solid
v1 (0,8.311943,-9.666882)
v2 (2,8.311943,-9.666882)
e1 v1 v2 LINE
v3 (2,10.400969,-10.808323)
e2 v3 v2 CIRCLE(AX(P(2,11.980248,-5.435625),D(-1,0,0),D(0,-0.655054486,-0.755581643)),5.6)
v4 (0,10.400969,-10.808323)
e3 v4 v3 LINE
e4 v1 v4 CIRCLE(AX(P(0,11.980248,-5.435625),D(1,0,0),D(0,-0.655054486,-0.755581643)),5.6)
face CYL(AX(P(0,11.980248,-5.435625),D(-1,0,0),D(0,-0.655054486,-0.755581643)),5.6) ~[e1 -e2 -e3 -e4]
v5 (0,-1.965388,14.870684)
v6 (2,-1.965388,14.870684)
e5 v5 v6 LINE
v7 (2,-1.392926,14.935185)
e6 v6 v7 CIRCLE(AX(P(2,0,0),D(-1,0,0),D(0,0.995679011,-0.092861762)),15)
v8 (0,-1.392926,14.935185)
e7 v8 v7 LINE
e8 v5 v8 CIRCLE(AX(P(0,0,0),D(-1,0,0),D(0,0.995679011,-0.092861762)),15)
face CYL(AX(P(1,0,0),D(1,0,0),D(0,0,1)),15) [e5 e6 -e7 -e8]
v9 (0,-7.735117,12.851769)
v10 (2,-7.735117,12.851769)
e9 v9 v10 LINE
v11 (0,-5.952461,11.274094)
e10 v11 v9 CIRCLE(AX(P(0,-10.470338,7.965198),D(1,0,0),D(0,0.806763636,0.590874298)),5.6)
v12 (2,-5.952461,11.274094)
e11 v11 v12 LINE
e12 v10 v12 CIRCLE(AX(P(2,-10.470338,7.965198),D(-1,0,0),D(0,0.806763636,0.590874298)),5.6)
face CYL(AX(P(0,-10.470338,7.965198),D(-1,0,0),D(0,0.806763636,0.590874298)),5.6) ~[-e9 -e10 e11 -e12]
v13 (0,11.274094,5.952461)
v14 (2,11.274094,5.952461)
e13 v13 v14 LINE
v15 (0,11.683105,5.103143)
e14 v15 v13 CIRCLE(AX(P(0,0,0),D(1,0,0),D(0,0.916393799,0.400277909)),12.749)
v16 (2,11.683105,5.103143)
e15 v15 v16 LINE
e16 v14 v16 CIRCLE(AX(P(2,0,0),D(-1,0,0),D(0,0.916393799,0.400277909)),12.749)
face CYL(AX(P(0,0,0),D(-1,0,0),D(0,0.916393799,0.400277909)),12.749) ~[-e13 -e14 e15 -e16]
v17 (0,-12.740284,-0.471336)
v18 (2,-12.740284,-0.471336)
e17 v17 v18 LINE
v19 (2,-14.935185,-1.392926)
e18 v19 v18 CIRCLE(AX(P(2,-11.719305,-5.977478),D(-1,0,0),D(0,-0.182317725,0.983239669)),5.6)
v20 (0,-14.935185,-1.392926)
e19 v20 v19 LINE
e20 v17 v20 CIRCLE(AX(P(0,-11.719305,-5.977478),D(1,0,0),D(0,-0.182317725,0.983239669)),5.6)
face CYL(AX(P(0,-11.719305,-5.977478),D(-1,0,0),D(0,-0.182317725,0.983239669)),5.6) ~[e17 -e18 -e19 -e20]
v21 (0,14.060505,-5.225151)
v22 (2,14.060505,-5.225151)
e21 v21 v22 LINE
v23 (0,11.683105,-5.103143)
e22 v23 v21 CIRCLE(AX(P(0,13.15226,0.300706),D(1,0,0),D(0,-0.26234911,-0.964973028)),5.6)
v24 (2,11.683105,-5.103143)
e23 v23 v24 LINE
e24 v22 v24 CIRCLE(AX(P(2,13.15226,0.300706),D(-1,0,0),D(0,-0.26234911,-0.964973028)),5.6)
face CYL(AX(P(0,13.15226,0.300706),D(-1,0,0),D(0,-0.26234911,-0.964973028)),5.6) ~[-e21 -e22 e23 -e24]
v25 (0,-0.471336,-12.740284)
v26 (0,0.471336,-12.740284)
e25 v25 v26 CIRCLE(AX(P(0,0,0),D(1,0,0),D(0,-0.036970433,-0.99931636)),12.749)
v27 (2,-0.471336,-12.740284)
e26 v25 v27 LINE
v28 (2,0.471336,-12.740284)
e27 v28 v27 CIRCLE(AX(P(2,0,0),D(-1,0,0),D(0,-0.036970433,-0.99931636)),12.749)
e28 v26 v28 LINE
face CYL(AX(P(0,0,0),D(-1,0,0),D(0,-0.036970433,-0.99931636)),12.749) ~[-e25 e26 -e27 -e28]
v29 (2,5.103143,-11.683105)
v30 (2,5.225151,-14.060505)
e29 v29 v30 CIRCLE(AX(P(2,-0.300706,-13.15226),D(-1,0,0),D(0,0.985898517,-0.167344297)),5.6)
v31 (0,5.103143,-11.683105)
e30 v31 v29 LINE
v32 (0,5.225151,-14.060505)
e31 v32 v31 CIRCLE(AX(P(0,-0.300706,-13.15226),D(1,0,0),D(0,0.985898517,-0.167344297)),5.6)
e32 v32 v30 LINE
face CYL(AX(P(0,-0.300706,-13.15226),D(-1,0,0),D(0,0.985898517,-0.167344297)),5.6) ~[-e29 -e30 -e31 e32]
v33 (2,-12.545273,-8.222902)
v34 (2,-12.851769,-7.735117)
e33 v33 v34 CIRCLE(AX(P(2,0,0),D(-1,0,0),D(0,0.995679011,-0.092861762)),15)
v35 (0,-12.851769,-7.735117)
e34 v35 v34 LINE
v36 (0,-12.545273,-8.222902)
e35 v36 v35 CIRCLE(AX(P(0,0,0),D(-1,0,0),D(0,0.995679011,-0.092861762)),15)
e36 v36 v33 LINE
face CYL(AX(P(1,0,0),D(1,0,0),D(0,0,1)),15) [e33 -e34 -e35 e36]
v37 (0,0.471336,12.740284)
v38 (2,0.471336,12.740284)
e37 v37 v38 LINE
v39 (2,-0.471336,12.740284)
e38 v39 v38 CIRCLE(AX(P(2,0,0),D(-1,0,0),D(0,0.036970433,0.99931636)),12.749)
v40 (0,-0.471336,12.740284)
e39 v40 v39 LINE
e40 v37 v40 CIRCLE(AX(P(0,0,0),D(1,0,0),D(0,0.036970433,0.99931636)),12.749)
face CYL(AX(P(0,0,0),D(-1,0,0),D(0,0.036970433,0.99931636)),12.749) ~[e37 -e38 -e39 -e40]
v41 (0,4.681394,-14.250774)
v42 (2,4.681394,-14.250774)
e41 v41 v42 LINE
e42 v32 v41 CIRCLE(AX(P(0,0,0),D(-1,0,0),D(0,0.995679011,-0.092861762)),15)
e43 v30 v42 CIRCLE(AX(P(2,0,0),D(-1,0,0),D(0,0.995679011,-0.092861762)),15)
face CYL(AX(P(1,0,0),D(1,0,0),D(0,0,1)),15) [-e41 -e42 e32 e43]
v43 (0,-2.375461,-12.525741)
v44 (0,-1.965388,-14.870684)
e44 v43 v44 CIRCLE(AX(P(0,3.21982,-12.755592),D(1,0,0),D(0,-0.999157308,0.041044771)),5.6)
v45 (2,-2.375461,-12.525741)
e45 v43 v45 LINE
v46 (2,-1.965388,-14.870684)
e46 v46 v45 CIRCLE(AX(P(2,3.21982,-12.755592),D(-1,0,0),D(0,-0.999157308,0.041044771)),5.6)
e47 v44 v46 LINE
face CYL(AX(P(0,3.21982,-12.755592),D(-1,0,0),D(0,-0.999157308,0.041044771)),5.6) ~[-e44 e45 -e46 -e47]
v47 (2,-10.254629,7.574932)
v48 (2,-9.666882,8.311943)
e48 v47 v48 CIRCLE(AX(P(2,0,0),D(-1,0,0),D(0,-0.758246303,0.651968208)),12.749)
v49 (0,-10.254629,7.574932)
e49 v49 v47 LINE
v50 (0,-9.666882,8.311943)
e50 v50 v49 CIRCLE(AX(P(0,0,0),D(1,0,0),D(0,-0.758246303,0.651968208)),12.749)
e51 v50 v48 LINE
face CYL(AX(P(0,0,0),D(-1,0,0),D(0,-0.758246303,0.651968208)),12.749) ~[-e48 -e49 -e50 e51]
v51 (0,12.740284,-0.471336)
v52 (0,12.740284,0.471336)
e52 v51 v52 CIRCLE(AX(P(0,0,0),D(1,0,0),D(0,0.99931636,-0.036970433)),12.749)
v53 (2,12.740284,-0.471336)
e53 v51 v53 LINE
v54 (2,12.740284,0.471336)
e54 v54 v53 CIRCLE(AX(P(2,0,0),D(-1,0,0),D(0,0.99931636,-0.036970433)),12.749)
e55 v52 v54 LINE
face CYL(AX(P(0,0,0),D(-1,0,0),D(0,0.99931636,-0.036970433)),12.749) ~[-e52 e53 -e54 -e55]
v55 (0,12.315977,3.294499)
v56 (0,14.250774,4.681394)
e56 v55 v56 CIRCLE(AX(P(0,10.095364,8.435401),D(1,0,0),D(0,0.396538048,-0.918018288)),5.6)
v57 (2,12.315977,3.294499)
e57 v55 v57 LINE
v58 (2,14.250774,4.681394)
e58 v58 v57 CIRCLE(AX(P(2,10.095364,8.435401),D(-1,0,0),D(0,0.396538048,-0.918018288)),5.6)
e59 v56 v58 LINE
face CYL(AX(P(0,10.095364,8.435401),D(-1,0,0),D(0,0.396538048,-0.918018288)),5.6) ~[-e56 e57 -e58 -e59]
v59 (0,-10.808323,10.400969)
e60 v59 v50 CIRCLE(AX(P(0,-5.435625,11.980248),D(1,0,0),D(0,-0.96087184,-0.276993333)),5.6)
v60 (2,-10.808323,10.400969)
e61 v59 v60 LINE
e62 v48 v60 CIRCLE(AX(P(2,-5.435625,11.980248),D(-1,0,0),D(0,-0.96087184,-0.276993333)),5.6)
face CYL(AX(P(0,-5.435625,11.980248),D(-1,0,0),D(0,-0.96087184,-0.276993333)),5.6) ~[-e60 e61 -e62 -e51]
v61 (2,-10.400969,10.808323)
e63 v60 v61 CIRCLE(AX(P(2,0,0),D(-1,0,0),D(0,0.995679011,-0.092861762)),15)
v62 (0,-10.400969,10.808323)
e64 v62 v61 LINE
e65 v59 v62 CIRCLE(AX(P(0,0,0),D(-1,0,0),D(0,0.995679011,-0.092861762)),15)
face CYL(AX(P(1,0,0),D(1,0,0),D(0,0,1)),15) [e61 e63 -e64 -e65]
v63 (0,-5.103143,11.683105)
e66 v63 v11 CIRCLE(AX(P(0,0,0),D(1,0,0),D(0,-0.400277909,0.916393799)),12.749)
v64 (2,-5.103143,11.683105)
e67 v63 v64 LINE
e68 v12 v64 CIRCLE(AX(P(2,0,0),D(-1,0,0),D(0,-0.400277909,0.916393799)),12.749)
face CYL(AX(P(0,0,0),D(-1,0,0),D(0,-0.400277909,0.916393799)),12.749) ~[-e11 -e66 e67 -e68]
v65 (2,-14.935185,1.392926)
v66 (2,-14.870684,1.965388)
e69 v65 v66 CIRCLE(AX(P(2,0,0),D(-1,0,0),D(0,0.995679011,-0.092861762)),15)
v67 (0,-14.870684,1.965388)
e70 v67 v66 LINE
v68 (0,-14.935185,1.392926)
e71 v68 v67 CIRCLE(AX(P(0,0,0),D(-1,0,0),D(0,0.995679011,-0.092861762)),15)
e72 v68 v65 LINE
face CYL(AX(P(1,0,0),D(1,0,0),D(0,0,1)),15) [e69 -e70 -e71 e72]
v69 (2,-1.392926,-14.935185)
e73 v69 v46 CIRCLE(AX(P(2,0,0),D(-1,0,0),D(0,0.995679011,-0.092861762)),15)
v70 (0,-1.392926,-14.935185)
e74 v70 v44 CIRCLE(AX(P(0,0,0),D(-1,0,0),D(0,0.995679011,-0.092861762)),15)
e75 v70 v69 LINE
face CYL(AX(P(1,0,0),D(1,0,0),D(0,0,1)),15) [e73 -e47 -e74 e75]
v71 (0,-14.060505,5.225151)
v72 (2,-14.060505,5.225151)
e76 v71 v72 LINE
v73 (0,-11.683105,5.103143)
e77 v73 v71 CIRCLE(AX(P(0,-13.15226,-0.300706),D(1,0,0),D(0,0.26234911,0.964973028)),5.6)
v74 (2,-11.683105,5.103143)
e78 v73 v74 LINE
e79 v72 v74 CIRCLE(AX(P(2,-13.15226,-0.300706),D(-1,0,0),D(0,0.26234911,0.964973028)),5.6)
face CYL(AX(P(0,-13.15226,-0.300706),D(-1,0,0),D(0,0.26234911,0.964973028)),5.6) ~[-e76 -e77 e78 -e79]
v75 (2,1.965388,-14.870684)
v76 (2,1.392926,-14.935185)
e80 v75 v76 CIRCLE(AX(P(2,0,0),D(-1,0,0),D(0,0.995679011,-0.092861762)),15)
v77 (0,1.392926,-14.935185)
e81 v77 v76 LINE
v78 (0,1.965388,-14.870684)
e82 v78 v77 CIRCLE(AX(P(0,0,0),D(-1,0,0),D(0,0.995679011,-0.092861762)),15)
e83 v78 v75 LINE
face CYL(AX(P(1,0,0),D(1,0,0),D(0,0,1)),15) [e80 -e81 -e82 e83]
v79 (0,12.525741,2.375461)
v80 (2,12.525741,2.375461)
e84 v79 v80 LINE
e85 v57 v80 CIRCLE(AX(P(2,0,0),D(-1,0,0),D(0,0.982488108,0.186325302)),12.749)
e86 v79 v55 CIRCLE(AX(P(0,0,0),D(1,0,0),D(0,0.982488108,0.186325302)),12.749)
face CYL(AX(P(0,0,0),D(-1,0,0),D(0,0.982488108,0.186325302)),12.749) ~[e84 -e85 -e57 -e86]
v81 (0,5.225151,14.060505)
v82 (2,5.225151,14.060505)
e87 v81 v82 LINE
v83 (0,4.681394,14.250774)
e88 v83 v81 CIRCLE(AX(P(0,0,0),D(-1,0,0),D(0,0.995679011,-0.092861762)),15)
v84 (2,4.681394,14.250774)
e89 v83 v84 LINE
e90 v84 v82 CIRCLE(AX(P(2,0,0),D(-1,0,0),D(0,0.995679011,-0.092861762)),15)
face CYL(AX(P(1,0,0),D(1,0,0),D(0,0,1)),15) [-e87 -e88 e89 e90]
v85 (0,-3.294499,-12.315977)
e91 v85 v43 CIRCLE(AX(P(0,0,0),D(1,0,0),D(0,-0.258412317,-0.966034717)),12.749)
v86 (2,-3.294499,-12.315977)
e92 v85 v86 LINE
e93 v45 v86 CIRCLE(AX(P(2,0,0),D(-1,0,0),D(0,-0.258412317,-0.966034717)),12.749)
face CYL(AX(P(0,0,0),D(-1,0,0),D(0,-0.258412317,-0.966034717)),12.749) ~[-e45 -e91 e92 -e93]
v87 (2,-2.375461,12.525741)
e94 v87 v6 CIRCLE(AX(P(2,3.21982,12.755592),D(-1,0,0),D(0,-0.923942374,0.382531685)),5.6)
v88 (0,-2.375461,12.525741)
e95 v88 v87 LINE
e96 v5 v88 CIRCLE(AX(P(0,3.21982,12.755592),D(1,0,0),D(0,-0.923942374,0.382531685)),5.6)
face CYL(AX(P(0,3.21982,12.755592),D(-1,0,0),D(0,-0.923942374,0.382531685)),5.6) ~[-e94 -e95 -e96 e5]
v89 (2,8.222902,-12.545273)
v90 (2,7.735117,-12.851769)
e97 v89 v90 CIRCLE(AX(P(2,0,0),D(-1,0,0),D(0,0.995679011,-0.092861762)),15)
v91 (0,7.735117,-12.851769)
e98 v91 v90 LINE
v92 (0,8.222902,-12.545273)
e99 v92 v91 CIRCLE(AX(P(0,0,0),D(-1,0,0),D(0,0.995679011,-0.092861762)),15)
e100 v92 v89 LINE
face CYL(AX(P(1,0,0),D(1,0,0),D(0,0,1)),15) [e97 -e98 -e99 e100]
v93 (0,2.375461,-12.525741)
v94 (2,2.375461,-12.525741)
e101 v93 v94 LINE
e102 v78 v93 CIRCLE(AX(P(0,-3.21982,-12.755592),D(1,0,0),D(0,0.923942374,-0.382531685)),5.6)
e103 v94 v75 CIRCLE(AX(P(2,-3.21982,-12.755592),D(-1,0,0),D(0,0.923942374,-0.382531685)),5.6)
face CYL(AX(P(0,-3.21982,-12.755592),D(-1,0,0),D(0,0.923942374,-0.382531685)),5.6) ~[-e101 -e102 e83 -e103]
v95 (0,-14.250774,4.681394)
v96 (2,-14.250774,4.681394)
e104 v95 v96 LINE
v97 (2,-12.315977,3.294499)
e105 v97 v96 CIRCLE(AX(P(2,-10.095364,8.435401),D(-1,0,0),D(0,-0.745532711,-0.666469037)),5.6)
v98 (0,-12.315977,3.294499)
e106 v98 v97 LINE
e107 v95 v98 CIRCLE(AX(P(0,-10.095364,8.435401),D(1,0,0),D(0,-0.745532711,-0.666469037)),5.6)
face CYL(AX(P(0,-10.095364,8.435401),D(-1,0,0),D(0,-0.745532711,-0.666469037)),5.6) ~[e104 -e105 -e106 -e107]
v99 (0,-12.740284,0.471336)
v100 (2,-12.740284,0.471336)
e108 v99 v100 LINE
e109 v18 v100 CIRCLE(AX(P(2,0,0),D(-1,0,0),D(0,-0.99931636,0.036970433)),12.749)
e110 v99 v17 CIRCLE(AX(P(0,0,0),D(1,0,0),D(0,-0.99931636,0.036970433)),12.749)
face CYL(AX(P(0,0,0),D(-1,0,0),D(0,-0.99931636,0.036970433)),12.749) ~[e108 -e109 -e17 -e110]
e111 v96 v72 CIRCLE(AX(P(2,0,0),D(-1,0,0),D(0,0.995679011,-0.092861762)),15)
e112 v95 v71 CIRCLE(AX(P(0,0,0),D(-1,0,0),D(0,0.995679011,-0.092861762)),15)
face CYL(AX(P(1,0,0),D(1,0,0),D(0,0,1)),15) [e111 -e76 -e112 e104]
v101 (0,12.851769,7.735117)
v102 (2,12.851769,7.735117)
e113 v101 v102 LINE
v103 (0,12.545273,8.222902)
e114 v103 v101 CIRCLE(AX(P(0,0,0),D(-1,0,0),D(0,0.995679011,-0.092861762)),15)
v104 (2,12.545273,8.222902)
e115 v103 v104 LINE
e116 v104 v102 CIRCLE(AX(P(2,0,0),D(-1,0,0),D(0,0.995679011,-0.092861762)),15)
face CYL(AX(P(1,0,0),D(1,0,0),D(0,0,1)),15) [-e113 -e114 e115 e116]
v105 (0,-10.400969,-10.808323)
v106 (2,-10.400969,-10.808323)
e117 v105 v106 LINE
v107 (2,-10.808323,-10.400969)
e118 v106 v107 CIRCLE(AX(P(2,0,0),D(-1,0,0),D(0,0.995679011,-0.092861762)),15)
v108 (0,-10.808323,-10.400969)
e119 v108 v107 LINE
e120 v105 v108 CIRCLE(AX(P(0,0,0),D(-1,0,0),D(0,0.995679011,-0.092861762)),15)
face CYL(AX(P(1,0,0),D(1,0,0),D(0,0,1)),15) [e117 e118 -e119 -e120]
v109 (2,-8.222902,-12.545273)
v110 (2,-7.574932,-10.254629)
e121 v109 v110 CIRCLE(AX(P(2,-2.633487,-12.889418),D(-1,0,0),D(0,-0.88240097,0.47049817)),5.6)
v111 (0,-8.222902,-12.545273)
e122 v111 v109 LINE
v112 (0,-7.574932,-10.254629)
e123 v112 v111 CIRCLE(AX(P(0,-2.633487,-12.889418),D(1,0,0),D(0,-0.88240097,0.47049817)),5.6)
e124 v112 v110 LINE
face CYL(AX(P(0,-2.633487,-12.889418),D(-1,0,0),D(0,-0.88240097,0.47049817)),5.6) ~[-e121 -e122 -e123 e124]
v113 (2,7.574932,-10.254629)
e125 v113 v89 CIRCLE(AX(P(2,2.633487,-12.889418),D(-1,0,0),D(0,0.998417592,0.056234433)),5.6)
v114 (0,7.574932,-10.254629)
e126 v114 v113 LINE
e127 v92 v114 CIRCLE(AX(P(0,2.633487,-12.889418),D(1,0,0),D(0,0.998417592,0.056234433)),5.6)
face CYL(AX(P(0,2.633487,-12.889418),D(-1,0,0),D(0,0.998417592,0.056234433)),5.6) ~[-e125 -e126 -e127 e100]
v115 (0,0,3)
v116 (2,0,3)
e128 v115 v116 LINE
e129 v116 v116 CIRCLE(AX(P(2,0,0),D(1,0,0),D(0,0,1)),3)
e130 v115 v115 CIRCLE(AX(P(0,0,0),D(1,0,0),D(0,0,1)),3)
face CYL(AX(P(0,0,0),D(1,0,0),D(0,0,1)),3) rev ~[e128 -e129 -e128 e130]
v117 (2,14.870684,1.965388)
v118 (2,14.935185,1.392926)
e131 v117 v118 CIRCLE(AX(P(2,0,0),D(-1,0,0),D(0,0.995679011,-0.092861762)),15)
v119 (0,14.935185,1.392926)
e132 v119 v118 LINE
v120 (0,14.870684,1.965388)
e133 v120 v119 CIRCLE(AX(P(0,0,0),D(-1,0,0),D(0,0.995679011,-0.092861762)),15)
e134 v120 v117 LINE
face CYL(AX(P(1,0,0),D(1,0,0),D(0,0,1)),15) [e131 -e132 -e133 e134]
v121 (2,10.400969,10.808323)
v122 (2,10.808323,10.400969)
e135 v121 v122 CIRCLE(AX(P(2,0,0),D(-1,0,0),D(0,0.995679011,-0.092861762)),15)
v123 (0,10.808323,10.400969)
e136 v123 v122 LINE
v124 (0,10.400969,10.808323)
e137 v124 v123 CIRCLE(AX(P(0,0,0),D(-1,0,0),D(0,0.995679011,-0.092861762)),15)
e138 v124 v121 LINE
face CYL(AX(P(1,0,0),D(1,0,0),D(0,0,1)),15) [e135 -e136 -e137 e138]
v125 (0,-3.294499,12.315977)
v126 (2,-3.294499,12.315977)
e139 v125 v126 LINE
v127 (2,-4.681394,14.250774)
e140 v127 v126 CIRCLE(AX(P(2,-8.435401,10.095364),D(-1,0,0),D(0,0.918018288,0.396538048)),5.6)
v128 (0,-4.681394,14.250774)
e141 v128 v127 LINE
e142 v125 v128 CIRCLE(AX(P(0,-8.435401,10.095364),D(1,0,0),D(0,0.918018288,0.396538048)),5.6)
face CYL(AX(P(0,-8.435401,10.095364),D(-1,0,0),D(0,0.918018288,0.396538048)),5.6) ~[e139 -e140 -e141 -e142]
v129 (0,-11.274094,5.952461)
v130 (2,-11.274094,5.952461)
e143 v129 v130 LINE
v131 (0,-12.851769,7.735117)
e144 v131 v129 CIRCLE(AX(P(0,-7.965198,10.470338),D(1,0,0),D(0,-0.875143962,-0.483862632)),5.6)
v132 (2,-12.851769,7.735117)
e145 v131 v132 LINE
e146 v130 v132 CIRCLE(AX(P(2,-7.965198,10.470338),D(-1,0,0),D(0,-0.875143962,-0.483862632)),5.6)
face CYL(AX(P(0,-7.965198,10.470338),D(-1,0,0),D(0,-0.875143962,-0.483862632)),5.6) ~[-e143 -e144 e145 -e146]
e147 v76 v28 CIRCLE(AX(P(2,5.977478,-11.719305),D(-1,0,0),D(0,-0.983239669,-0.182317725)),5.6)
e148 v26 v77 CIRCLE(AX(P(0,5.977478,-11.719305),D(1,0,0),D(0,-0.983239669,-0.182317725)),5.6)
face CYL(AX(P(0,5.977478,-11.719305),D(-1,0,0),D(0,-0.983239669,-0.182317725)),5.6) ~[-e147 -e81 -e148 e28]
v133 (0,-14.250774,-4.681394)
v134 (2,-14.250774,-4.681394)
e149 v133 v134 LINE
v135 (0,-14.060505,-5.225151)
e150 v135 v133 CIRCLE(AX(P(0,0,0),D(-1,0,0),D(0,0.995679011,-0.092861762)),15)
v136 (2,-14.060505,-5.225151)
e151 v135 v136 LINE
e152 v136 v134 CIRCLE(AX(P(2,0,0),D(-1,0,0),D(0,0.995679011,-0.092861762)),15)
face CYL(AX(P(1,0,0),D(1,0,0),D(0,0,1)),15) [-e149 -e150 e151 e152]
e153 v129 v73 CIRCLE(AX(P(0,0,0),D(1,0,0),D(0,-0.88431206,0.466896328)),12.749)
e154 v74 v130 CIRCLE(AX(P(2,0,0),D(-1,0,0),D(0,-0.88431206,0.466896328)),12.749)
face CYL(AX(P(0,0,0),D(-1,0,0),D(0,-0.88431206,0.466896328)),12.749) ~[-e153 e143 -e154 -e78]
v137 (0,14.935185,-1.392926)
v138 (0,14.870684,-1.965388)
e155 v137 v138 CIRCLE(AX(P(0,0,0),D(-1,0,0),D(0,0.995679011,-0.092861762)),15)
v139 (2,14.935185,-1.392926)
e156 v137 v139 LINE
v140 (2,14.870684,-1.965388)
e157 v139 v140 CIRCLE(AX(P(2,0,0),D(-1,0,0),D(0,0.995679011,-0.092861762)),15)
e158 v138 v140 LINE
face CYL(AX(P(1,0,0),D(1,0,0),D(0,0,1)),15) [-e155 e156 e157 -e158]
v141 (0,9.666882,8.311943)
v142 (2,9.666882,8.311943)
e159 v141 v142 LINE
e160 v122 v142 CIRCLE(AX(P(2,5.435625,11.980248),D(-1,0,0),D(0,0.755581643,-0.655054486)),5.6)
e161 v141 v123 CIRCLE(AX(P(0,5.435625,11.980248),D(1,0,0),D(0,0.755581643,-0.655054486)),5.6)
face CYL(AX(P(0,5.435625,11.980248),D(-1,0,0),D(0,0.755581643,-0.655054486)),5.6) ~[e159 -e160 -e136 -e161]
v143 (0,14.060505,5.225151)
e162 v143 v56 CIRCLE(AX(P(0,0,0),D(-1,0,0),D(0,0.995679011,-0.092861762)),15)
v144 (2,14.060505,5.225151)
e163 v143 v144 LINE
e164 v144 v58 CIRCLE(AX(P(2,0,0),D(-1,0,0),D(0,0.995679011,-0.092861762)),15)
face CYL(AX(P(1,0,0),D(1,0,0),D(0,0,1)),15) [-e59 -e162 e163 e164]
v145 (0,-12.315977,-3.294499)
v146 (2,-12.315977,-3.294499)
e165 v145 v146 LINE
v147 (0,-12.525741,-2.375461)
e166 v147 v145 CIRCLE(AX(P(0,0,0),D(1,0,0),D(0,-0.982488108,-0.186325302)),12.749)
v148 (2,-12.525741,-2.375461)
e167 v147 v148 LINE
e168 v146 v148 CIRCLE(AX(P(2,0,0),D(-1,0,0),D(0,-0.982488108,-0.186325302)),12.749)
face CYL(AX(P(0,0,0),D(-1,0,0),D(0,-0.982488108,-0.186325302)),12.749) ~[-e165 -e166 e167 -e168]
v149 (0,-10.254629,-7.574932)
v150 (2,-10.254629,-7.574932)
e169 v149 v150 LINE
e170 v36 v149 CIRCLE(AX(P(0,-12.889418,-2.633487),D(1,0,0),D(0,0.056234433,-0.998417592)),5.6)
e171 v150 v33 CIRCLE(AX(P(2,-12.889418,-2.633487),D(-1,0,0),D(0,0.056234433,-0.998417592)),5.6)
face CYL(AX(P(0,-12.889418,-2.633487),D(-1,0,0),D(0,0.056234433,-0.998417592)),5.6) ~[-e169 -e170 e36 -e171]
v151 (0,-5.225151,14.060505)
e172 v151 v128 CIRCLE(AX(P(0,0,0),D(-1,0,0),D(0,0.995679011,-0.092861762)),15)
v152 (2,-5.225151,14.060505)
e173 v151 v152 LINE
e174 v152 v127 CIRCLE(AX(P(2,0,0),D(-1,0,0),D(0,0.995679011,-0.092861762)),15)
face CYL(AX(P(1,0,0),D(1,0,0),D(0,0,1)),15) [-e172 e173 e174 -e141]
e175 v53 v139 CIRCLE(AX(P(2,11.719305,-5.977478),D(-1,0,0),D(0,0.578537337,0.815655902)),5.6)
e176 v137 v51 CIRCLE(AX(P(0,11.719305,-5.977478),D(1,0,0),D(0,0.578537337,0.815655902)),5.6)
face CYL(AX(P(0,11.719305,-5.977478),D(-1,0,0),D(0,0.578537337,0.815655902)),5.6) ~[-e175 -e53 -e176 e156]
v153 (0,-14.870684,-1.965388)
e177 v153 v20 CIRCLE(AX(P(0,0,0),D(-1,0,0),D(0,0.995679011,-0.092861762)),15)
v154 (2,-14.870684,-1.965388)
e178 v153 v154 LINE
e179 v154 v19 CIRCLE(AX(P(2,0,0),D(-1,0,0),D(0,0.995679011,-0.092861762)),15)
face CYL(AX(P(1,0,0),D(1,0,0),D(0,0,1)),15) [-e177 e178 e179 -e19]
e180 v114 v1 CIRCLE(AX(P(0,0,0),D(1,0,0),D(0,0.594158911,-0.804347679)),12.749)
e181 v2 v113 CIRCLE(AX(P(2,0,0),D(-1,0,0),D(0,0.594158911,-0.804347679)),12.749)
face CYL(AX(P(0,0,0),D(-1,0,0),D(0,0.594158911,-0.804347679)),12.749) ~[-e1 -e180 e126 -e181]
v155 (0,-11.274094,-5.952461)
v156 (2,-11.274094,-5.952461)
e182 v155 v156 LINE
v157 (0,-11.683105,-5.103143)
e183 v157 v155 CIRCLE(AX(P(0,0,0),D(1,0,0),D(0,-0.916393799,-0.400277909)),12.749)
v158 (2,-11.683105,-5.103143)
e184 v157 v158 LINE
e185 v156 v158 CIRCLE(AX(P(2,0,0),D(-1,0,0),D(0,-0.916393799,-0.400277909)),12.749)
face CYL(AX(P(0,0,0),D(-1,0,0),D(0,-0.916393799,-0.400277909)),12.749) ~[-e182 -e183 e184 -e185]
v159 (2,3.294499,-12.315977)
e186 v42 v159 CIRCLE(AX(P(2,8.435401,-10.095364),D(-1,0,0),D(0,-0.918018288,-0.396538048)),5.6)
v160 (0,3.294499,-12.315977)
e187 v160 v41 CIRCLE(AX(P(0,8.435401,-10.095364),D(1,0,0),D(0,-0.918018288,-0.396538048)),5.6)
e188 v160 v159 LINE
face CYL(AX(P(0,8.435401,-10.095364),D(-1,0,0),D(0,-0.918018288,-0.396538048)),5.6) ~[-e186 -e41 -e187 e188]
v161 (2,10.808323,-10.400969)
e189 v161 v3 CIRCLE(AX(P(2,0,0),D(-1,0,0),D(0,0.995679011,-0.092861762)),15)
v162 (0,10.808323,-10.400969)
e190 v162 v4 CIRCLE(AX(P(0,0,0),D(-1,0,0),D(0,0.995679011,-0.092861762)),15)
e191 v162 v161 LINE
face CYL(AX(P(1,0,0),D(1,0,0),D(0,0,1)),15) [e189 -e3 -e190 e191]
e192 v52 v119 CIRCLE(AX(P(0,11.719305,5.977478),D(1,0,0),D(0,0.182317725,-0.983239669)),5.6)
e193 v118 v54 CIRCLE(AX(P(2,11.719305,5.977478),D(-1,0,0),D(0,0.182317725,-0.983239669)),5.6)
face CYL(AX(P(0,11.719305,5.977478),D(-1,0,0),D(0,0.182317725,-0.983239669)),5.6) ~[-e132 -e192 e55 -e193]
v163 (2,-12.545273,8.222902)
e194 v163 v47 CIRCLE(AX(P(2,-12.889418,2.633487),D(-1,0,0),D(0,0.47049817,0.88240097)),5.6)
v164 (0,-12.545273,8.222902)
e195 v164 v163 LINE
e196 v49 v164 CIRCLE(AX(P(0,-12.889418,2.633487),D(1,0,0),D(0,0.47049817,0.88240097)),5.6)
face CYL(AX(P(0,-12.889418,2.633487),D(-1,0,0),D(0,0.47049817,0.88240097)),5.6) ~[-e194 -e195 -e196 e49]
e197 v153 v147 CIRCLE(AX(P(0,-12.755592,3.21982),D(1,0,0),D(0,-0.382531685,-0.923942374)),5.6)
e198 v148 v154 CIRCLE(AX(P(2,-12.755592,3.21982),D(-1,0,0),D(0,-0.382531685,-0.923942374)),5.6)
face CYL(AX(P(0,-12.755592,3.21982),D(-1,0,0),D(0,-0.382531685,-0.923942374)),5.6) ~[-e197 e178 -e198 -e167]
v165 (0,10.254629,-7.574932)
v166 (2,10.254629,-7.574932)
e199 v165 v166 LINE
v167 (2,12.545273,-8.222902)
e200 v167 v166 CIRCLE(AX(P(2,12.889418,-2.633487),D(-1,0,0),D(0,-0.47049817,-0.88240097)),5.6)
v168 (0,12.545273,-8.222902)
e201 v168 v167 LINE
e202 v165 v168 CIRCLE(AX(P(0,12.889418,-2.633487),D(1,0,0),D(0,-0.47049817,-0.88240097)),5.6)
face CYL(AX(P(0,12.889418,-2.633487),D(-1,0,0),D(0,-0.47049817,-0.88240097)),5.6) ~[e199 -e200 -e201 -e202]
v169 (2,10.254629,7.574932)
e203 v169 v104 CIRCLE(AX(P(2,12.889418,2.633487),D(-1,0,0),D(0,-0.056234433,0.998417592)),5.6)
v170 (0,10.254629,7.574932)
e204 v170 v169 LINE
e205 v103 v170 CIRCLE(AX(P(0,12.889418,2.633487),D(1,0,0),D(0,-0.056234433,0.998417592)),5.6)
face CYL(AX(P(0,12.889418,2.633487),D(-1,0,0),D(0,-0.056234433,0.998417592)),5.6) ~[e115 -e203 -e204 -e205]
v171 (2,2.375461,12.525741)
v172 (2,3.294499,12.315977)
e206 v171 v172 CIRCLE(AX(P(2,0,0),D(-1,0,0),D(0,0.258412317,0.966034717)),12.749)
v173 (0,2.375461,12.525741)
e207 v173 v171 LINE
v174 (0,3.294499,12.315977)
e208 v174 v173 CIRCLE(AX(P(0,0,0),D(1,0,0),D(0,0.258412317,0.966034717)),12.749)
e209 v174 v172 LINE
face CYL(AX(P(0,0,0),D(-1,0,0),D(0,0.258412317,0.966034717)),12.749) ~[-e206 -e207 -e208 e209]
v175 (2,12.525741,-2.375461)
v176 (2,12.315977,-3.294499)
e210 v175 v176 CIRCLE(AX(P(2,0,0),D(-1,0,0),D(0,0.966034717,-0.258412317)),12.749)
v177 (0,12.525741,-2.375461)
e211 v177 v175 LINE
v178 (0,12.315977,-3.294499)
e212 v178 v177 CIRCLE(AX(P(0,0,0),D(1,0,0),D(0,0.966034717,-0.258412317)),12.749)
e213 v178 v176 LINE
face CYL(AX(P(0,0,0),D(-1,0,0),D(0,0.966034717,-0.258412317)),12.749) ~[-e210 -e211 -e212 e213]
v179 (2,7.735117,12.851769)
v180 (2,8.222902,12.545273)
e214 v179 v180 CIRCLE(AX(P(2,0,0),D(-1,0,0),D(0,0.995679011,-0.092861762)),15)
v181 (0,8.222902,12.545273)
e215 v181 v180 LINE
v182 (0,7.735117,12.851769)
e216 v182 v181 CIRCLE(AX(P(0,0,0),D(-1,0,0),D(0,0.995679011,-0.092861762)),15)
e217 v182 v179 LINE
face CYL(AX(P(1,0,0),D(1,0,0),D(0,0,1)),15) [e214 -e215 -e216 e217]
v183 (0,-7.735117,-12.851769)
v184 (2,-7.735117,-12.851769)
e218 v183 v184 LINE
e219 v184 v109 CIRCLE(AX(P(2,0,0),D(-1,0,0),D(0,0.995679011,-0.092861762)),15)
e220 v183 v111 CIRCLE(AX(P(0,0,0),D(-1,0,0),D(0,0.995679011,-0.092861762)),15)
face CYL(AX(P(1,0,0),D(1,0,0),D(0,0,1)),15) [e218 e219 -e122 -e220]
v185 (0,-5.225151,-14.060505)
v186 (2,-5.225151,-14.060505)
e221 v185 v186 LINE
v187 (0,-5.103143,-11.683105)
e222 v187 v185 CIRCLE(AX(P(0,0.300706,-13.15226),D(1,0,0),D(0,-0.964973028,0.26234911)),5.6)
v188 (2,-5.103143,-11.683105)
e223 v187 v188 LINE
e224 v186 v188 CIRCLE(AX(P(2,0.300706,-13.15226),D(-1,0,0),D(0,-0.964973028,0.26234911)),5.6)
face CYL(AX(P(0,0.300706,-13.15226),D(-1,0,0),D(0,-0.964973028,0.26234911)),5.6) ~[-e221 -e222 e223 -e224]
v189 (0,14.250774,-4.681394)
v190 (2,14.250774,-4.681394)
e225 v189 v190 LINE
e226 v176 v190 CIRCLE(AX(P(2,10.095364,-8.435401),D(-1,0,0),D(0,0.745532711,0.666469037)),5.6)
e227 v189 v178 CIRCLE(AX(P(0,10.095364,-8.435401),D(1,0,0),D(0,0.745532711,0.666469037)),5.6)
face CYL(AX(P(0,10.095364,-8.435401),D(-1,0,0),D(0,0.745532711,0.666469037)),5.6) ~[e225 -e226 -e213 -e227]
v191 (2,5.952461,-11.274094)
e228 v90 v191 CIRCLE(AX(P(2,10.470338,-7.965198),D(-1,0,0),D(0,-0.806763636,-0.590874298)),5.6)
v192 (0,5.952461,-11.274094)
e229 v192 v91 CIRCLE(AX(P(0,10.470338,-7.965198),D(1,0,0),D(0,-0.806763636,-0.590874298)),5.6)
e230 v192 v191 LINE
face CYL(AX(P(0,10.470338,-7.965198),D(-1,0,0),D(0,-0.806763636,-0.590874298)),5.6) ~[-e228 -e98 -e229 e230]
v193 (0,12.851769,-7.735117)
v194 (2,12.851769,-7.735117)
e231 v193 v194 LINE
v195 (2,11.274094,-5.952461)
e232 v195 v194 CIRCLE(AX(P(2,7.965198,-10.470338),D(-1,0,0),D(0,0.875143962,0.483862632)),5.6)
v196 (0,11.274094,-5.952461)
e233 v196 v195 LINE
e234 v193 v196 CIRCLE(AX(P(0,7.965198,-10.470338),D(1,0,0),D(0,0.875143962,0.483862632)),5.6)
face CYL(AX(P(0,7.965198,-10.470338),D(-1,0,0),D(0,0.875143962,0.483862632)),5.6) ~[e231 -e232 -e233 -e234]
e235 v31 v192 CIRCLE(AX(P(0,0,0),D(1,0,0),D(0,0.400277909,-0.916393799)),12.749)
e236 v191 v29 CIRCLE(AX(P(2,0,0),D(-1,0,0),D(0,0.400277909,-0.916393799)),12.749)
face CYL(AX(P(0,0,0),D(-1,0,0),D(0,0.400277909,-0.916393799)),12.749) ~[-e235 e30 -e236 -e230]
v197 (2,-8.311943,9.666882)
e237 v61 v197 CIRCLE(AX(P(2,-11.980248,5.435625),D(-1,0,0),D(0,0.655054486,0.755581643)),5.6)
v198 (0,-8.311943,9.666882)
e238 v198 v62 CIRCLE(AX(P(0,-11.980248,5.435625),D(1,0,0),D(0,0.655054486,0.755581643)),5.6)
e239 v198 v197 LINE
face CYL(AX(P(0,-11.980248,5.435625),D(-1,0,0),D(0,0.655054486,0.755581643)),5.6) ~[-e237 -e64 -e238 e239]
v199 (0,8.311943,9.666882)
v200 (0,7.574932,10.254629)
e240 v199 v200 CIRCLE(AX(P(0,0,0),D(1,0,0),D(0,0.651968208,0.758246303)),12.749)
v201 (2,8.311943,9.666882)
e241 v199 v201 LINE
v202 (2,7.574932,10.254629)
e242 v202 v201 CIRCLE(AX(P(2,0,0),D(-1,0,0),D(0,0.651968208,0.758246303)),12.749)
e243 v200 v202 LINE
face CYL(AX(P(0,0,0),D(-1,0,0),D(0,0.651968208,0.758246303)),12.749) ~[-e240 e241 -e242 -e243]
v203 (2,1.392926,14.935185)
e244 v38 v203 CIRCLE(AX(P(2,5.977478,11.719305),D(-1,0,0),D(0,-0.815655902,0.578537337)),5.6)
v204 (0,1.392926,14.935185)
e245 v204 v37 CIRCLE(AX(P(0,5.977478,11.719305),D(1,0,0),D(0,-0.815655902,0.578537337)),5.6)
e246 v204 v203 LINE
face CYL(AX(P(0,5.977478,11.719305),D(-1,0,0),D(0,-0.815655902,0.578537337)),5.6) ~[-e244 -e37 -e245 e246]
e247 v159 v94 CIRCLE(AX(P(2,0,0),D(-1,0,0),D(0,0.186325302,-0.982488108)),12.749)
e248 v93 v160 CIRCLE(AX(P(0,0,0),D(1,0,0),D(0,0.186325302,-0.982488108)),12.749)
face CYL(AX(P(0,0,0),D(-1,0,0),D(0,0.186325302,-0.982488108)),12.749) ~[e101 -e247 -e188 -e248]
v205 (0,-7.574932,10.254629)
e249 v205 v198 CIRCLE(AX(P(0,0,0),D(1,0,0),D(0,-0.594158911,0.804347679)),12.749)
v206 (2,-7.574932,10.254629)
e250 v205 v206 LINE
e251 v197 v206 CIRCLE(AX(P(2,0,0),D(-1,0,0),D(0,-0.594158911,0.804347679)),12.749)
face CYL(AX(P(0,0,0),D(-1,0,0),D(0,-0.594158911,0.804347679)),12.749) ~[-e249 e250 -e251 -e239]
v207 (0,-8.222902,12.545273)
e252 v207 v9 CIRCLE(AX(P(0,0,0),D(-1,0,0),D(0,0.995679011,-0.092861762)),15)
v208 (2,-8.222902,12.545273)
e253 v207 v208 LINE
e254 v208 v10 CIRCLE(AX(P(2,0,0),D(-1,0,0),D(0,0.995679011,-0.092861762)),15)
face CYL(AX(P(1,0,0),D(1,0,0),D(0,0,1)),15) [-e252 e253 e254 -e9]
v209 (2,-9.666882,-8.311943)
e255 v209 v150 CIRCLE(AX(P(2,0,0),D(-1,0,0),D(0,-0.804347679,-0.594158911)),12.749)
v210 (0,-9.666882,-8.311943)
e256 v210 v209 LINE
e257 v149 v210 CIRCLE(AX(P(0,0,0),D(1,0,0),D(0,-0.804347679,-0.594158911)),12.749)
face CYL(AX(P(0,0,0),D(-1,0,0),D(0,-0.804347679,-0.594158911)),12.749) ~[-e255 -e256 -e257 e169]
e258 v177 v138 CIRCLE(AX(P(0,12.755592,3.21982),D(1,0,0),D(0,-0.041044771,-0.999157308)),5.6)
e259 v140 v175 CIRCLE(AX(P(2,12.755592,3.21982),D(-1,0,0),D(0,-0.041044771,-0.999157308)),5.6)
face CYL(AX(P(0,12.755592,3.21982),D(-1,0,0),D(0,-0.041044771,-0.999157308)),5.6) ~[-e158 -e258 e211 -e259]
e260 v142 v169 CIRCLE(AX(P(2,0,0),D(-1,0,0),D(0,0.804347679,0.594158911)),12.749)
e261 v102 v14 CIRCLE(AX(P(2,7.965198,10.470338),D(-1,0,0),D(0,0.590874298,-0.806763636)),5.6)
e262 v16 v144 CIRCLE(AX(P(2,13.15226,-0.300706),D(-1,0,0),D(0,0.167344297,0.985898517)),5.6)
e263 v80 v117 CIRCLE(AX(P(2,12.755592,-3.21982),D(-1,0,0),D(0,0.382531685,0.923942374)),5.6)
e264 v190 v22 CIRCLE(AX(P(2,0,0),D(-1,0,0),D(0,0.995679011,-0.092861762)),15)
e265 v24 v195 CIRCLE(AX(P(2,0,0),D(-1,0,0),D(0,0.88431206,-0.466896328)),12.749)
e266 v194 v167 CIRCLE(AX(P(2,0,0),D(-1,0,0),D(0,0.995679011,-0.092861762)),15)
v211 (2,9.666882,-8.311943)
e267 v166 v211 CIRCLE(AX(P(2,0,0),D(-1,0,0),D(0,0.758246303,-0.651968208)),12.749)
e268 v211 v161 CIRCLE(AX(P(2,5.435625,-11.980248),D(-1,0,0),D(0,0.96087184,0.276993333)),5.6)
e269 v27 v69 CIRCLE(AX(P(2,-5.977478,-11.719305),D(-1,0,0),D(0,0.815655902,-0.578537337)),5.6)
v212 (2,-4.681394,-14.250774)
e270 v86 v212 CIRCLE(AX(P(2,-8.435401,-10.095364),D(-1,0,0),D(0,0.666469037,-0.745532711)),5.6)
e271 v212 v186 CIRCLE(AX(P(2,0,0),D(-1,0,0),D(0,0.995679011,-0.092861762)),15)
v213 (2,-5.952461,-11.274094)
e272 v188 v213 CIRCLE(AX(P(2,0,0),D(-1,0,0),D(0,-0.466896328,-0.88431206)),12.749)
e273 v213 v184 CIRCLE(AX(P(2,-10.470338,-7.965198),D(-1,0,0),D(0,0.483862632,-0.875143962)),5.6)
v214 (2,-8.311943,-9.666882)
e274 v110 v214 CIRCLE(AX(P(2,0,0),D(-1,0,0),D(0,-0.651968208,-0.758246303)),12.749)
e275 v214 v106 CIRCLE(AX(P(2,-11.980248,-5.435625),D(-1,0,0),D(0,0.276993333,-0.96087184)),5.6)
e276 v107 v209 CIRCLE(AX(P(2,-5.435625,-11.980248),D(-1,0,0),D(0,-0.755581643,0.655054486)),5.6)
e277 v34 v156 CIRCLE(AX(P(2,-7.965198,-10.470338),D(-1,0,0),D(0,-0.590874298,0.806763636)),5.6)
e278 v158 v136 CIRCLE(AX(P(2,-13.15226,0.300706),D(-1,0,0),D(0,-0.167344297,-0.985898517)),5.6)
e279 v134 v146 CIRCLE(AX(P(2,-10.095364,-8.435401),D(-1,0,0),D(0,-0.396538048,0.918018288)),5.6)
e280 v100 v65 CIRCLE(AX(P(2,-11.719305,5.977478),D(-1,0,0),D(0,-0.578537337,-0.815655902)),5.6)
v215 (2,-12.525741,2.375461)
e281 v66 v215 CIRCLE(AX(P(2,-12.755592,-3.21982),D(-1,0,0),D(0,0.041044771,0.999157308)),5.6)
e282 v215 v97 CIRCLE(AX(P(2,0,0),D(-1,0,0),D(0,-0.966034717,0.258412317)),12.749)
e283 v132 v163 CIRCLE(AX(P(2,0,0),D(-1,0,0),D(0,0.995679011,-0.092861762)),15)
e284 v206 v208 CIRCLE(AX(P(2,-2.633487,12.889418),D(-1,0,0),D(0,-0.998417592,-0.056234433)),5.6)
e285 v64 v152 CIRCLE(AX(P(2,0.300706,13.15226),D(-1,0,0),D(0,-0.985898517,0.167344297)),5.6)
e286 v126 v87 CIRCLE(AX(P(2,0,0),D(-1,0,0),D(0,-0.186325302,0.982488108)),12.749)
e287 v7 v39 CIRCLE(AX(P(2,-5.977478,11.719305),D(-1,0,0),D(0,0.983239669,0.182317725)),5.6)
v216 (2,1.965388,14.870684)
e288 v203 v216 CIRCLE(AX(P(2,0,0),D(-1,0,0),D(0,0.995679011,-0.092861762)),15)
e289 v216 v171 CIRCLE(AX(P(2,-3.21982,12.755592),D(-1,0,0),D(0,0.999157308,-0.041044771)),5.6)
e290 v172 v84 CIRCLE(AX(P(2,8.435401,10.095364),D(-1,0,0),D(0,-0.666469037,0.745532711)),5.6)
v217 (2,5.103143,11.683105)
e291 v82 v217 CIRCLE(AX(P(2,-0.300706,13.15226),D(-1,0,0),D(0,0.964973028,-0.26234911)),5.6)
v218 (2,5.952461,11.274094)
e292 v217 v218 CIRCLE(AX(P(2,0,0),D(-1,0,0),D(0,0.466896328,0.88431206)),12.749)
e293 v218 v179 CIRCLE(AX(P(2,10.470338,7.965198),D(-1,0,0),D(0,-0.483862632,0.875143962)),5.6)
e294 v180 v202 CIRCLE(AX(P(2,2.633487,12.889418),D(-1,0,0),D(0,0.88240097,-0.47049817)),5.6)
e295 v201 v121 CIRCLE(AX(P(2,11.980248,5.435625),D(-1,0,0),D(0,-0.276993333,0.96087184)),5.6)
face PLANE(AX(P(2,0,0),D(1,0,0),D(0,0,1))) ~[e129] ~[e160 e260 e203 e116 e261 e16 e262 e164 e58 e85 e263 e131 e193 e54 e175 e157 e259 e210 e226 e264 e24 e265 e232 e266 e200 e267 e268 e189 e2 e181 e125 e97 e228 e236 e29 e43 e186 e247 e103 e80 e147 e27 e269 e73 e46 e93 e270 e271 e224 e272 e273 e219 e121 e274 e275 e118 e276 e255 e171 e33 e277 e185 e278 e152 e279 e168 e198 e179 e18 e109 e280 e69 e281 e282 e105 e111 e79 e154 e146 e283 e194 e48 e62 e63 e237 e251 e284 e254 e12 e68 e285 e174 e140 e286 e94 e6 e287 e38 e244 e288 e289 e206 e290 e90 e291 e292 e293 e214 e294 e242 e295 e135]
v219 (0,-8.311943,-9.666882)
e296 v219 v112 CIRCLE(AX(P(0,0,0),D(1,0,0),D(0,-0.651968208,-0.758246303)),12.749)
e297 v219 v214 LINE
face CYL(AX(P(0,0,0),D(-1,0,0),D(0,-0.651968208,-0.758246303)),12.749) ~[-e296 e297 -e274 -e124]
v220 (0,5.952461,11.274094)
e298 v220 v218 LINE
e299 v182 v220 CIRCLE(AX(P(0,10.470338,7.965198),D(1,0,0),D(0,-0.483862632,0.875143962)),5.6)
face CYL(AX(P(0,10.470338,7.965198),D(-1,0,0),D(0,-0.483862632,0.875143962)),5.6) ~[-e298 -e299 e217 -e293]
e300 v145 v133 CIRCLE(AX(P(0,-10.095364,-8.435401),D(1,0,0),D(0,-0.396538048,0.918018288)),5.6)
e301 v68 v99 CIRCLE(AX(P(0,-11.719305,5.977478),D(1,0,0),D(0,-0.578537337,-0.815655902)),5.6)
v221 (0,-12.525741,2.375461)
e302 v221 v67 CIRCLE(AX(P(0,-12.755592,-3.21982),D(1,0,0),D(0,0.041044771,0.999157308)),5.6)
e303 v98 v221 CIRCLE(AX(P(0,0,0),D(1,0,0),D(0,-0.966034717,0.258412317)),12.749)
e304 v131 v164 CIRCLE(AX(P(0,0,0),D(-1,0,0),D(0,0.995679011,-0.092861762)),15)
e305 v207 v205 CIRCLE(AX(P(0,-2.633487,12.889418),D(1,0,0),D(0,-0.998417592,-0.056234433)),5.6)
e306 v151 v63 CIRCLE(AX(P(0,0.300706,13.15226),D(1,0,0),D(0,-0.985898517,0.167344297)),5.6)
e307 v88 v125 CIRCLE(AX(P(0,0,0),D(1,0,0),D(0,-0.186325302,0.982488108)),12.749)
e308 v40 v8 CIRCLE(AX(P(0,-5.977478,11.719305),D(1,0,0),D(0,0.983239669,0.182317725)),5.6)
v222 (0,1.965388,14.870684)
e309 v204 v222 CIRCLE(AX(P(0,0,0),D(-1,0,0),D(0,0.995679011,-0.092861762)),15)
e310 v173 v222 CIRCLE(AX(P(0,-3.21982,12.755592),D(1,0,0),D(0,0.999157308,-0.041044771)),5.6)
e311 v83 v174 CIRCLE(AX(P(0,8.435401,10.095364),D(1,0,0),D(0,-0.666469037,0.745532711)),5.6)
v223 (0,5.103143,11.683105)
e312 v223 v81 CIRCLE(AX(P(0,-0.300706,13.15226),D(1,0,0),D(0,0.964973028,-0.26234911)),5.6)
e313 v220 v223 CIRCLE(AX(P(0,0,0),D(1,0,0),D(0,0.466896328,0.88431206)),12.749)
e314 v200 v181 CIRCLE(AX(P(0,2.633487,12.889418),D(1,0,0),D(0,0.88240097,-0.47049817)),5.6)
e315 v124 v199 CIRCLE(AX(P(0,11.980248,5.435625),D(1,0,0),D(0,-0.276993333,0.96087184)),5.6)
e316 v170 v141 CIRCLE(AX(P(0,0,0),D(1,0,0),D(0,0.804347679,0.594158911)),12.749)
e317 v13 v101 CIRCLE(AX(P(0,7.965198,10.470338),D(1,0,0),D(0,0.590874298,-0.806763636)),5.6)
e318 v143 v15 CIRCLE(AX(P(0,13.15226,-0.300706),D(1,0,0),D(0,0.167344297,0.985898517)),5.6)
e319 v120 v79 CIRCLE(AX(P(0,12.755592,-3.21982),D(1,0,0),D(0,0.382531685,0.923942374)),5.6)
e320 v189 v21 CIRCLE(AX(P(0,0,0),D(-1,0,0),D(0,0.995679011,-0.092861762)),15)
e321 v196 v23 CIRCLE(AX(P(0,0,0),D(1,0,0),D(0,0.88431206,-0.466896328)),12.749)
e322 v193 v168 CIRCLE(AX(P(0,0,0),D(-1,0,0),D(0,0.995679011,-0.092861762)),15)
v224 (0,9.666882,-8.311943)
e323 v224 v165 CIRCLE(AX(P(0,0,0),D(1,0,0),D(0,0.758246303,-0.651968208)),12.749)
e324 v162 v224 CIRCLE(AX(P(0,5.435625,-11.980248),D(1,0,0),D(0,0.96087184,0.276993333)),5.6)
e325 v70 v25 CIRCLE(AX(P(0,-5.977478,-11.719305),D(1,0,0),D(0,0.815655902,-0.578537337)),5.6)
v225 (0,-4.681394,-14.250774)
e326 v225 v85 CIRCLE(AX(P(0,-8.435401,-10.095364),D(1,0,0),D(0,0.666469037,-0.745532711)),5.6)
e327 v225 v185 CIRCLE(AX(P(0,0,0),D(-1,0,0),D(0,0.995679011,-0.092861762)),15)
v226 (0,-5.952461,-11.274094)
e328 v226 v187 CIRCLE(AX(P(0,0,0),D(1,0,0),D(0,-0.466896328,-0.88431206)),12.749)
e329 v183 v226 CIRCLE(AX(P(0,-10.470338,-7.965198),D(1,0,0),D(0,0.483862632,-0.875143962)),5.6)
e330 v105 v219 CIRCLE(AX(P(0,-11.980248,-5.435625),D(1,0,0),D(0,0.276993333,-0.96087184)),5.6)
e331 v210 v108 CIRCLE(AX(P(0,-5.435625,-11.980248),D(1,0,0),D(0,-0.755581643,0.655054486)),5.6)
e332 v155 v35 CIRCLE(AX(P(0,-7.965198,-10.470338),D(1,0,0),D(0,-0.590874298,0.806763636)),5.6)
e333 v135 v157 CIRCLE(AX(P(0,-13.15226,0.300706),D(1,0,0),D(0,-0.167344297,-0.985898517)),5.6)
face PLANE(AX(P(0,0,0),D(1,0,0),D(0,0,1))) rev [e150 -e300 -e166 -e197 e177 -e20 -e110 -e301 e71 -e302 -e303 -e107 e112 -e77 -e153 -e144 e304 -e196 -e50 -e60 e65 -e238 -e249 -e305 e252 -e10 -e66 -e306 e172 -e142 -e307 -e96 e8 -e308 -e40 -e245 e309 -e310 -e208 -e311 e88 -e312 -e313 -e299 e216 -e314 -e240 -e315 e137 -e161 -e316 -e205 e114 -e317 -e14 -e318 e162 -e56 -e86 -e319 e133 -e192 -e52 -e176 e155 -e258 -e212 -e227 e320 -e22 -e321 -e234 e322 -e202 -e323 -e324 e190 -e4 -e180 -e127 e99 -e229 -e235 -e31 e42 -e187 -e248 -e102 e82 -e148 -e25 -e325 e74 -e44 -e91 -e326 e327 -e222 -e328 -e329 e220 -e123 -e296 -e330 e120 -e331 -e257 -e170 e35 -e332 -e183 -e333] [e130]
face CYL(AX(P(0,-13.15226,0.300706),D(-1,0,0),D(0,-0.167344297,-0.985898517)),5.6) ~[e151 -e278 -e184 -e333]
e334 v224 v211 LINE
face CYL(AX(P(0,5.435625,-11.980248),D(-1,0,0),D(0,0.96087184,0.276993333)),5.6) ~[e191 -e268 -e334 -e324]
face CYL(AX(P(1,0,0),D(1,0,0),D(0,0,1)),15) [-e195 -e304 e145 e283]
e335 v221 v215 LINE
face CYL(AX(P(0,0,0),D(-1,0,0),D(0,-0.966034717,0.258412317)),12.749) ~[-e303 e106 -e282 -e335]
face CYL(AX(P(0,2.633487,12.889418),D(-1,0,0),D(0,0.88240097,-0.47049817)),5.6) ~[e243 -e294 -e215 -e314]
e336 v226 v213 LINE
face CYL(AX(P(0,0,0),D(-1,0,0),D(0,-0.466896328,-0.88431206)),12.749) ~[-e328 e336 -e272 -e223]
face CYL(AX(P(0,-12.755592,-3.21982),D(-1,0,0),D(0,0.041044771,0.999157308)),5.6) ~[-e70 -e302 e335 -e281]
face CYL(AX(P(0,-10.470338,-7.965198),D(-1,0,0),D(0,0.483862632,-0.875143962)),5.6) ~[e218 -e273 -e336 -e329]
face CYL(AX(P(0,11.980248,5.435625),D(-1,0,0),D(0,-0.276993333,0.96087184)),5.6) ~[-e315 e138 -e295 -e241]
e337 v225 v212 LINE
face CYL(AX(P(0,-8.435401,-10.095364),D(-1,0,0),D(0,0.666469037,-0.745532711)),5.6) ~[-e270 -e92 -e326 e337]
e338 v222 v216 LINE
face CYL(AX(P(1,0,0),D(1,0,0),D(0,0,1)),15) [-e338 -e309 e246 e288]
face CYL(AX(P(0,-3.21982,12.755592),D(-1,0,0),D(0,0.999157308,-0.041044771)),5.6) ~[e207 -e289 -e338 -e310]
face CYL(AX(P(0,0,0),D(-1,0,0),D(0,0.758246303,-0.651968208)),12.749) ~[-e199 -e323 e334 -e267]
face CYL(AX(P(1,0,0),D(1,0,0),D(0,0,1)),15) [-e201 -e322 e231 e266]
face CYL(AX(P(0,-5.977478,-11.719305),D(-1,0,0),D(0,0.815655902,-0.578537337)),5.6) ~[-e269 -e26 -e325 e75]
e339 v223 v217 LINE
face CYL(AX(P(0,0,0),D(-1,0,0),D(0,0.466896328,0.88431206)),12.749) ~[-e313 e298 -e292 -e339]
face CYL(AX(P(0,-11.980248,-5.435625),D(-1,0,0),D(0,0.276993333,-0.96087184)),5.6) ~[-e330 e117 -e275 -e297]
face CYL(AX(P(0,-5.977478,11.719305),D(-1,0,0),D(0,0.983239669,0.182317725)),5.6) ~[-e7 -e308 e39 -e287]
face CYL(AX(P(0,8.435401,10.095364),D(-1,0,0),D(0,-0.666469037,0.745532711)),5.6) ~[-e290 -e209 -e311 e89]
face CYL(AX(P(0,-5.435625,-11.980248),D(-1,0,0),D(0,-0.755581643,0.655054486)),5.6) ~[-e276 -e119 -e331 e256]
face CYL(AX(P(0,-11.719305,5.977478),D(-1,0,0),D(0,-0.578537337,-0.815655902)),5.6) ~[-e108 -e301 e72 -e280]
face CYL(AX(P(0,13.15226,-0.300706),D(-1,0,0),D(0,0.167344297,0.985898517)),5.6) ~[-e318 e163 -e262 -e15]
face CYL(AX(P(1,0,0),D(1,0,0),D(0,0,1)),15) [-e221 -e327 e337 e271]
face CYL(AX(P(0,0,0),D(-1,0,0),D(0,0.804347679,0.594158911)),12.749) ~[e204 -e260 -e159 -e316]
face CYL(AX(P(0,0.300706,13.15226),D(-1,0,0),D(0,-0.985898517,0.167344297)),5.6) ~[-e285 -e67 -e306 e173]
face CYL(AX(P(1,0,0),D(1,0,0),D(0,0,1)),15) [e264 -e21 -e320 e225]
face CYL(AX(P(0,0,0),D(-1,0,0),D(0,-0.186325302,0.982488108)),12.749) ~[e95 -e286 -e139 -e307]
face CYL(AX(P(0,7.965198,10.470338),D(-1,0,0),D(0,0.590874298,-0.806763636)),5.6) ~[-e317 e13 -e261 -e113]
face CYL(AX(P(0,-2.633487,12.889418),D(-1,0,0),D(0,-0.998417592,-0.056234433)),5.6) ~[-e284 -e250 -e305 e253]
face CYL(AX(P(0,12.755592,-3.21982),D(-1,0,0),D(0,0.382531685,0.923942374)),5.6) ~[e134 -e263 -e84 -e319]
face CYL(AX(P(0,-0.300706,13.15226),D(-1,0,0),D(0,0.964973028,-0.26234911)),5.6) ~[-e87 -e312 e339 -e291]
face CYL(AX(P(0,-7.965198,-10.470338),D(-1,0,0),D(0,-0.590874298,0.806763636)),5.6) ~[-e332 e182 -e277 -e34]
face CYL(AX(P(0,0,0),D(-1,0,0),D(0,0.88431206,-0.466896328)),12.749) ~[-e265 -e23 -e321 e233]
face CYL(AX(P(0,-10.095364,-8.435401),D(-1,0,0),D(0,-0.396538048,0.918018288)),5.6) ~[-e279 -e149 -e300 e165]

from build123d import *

# Parameters (mm, degrees)
BASPROSKE_W     = 2
BASPROSKE_H     = 15
TOOTHCUT_DEPTH  = 22.307275753
TEETHCUTS_COUNT = 28
TEETHCUTS_ANGLE = 347.142857143
BORSKE_R        = 3
BORE_DEPTH      = 50.0000508


with BuildPart() as part:
    # BasProSke → Base-Revolve (revolve)
    with BuildSketch(Plane(origin=(0, 0, 0), x_dir=(1, 0, 0), z_dir=(0, 1, 0)), mode=Mode.PRIVATE) as base_revolve_sk:
        with Locations((1, 7.5)):
            Rectangle(BASPROSKE_W, BASPROSKE_H)
    revolve(base_revolve_sk.sketch.rotate(Axis((-10, 0, 0), (1, 0, 0)), 180), axis=Axis((-10, 0, 0), (1, 0, 0)))

    # TooCutSke → ToothCut (cut, through all)
    with BuildSketch(Plane(origin=(0, 0, 0), x_dir=(0, 0, -1), z_dir=(1, 0, 0))):
        with BuildLine():
            ThreePointArc((0.471336039, 12.740284272), (0, 12.749), (-0.471336039, 12.740284272))
            ThreePointArc((-0.471336039, 12.740284272), (-0.81983923, 13.900763331), (-1.409805137, 14.959114099))
            ThreePointArc((-1.409805137, 14.959114099), (0, 15.0254), (1.409805137, 14.959114099))
            ThreePointArc((1.409805137, 14.959114099), (0.81983923, 13.900763331), (0.471336039, 12.740284272))
        make_face()
    toothcut = extrude(amount=TOOTHCUT_DEPTH, mode=Mode.SUBTRACT)

    # TeethCuts: ToothCut ×28 about axis
    teethcuts_axis = Axis((-10, 0, 0), (1, 0, 0))
    for i in range(1, TEETHCUTS_COUNT):
        add(toothcut.rotate(teethcuts_axis, i * TEETHCUTS_ANGLE / (TEETHCUTS_COUNT - 1)), mode=Mode.SUBTRACT)

    # BorSke → Bore (cut, symmetric)
    with BuildSketch(Plane(origin=(0, 0, 0), x_dir=(0, 0, -1), z_dir=(1, 0, 0))):
        with Locations(Location((0, 0, 0), (0, 0, 180))):
            Circle(BORSKE_R)
    extrude(amount=BORE_DEPTH, both=True, mode=Mode.SUBTRACT)


solid = part.part
